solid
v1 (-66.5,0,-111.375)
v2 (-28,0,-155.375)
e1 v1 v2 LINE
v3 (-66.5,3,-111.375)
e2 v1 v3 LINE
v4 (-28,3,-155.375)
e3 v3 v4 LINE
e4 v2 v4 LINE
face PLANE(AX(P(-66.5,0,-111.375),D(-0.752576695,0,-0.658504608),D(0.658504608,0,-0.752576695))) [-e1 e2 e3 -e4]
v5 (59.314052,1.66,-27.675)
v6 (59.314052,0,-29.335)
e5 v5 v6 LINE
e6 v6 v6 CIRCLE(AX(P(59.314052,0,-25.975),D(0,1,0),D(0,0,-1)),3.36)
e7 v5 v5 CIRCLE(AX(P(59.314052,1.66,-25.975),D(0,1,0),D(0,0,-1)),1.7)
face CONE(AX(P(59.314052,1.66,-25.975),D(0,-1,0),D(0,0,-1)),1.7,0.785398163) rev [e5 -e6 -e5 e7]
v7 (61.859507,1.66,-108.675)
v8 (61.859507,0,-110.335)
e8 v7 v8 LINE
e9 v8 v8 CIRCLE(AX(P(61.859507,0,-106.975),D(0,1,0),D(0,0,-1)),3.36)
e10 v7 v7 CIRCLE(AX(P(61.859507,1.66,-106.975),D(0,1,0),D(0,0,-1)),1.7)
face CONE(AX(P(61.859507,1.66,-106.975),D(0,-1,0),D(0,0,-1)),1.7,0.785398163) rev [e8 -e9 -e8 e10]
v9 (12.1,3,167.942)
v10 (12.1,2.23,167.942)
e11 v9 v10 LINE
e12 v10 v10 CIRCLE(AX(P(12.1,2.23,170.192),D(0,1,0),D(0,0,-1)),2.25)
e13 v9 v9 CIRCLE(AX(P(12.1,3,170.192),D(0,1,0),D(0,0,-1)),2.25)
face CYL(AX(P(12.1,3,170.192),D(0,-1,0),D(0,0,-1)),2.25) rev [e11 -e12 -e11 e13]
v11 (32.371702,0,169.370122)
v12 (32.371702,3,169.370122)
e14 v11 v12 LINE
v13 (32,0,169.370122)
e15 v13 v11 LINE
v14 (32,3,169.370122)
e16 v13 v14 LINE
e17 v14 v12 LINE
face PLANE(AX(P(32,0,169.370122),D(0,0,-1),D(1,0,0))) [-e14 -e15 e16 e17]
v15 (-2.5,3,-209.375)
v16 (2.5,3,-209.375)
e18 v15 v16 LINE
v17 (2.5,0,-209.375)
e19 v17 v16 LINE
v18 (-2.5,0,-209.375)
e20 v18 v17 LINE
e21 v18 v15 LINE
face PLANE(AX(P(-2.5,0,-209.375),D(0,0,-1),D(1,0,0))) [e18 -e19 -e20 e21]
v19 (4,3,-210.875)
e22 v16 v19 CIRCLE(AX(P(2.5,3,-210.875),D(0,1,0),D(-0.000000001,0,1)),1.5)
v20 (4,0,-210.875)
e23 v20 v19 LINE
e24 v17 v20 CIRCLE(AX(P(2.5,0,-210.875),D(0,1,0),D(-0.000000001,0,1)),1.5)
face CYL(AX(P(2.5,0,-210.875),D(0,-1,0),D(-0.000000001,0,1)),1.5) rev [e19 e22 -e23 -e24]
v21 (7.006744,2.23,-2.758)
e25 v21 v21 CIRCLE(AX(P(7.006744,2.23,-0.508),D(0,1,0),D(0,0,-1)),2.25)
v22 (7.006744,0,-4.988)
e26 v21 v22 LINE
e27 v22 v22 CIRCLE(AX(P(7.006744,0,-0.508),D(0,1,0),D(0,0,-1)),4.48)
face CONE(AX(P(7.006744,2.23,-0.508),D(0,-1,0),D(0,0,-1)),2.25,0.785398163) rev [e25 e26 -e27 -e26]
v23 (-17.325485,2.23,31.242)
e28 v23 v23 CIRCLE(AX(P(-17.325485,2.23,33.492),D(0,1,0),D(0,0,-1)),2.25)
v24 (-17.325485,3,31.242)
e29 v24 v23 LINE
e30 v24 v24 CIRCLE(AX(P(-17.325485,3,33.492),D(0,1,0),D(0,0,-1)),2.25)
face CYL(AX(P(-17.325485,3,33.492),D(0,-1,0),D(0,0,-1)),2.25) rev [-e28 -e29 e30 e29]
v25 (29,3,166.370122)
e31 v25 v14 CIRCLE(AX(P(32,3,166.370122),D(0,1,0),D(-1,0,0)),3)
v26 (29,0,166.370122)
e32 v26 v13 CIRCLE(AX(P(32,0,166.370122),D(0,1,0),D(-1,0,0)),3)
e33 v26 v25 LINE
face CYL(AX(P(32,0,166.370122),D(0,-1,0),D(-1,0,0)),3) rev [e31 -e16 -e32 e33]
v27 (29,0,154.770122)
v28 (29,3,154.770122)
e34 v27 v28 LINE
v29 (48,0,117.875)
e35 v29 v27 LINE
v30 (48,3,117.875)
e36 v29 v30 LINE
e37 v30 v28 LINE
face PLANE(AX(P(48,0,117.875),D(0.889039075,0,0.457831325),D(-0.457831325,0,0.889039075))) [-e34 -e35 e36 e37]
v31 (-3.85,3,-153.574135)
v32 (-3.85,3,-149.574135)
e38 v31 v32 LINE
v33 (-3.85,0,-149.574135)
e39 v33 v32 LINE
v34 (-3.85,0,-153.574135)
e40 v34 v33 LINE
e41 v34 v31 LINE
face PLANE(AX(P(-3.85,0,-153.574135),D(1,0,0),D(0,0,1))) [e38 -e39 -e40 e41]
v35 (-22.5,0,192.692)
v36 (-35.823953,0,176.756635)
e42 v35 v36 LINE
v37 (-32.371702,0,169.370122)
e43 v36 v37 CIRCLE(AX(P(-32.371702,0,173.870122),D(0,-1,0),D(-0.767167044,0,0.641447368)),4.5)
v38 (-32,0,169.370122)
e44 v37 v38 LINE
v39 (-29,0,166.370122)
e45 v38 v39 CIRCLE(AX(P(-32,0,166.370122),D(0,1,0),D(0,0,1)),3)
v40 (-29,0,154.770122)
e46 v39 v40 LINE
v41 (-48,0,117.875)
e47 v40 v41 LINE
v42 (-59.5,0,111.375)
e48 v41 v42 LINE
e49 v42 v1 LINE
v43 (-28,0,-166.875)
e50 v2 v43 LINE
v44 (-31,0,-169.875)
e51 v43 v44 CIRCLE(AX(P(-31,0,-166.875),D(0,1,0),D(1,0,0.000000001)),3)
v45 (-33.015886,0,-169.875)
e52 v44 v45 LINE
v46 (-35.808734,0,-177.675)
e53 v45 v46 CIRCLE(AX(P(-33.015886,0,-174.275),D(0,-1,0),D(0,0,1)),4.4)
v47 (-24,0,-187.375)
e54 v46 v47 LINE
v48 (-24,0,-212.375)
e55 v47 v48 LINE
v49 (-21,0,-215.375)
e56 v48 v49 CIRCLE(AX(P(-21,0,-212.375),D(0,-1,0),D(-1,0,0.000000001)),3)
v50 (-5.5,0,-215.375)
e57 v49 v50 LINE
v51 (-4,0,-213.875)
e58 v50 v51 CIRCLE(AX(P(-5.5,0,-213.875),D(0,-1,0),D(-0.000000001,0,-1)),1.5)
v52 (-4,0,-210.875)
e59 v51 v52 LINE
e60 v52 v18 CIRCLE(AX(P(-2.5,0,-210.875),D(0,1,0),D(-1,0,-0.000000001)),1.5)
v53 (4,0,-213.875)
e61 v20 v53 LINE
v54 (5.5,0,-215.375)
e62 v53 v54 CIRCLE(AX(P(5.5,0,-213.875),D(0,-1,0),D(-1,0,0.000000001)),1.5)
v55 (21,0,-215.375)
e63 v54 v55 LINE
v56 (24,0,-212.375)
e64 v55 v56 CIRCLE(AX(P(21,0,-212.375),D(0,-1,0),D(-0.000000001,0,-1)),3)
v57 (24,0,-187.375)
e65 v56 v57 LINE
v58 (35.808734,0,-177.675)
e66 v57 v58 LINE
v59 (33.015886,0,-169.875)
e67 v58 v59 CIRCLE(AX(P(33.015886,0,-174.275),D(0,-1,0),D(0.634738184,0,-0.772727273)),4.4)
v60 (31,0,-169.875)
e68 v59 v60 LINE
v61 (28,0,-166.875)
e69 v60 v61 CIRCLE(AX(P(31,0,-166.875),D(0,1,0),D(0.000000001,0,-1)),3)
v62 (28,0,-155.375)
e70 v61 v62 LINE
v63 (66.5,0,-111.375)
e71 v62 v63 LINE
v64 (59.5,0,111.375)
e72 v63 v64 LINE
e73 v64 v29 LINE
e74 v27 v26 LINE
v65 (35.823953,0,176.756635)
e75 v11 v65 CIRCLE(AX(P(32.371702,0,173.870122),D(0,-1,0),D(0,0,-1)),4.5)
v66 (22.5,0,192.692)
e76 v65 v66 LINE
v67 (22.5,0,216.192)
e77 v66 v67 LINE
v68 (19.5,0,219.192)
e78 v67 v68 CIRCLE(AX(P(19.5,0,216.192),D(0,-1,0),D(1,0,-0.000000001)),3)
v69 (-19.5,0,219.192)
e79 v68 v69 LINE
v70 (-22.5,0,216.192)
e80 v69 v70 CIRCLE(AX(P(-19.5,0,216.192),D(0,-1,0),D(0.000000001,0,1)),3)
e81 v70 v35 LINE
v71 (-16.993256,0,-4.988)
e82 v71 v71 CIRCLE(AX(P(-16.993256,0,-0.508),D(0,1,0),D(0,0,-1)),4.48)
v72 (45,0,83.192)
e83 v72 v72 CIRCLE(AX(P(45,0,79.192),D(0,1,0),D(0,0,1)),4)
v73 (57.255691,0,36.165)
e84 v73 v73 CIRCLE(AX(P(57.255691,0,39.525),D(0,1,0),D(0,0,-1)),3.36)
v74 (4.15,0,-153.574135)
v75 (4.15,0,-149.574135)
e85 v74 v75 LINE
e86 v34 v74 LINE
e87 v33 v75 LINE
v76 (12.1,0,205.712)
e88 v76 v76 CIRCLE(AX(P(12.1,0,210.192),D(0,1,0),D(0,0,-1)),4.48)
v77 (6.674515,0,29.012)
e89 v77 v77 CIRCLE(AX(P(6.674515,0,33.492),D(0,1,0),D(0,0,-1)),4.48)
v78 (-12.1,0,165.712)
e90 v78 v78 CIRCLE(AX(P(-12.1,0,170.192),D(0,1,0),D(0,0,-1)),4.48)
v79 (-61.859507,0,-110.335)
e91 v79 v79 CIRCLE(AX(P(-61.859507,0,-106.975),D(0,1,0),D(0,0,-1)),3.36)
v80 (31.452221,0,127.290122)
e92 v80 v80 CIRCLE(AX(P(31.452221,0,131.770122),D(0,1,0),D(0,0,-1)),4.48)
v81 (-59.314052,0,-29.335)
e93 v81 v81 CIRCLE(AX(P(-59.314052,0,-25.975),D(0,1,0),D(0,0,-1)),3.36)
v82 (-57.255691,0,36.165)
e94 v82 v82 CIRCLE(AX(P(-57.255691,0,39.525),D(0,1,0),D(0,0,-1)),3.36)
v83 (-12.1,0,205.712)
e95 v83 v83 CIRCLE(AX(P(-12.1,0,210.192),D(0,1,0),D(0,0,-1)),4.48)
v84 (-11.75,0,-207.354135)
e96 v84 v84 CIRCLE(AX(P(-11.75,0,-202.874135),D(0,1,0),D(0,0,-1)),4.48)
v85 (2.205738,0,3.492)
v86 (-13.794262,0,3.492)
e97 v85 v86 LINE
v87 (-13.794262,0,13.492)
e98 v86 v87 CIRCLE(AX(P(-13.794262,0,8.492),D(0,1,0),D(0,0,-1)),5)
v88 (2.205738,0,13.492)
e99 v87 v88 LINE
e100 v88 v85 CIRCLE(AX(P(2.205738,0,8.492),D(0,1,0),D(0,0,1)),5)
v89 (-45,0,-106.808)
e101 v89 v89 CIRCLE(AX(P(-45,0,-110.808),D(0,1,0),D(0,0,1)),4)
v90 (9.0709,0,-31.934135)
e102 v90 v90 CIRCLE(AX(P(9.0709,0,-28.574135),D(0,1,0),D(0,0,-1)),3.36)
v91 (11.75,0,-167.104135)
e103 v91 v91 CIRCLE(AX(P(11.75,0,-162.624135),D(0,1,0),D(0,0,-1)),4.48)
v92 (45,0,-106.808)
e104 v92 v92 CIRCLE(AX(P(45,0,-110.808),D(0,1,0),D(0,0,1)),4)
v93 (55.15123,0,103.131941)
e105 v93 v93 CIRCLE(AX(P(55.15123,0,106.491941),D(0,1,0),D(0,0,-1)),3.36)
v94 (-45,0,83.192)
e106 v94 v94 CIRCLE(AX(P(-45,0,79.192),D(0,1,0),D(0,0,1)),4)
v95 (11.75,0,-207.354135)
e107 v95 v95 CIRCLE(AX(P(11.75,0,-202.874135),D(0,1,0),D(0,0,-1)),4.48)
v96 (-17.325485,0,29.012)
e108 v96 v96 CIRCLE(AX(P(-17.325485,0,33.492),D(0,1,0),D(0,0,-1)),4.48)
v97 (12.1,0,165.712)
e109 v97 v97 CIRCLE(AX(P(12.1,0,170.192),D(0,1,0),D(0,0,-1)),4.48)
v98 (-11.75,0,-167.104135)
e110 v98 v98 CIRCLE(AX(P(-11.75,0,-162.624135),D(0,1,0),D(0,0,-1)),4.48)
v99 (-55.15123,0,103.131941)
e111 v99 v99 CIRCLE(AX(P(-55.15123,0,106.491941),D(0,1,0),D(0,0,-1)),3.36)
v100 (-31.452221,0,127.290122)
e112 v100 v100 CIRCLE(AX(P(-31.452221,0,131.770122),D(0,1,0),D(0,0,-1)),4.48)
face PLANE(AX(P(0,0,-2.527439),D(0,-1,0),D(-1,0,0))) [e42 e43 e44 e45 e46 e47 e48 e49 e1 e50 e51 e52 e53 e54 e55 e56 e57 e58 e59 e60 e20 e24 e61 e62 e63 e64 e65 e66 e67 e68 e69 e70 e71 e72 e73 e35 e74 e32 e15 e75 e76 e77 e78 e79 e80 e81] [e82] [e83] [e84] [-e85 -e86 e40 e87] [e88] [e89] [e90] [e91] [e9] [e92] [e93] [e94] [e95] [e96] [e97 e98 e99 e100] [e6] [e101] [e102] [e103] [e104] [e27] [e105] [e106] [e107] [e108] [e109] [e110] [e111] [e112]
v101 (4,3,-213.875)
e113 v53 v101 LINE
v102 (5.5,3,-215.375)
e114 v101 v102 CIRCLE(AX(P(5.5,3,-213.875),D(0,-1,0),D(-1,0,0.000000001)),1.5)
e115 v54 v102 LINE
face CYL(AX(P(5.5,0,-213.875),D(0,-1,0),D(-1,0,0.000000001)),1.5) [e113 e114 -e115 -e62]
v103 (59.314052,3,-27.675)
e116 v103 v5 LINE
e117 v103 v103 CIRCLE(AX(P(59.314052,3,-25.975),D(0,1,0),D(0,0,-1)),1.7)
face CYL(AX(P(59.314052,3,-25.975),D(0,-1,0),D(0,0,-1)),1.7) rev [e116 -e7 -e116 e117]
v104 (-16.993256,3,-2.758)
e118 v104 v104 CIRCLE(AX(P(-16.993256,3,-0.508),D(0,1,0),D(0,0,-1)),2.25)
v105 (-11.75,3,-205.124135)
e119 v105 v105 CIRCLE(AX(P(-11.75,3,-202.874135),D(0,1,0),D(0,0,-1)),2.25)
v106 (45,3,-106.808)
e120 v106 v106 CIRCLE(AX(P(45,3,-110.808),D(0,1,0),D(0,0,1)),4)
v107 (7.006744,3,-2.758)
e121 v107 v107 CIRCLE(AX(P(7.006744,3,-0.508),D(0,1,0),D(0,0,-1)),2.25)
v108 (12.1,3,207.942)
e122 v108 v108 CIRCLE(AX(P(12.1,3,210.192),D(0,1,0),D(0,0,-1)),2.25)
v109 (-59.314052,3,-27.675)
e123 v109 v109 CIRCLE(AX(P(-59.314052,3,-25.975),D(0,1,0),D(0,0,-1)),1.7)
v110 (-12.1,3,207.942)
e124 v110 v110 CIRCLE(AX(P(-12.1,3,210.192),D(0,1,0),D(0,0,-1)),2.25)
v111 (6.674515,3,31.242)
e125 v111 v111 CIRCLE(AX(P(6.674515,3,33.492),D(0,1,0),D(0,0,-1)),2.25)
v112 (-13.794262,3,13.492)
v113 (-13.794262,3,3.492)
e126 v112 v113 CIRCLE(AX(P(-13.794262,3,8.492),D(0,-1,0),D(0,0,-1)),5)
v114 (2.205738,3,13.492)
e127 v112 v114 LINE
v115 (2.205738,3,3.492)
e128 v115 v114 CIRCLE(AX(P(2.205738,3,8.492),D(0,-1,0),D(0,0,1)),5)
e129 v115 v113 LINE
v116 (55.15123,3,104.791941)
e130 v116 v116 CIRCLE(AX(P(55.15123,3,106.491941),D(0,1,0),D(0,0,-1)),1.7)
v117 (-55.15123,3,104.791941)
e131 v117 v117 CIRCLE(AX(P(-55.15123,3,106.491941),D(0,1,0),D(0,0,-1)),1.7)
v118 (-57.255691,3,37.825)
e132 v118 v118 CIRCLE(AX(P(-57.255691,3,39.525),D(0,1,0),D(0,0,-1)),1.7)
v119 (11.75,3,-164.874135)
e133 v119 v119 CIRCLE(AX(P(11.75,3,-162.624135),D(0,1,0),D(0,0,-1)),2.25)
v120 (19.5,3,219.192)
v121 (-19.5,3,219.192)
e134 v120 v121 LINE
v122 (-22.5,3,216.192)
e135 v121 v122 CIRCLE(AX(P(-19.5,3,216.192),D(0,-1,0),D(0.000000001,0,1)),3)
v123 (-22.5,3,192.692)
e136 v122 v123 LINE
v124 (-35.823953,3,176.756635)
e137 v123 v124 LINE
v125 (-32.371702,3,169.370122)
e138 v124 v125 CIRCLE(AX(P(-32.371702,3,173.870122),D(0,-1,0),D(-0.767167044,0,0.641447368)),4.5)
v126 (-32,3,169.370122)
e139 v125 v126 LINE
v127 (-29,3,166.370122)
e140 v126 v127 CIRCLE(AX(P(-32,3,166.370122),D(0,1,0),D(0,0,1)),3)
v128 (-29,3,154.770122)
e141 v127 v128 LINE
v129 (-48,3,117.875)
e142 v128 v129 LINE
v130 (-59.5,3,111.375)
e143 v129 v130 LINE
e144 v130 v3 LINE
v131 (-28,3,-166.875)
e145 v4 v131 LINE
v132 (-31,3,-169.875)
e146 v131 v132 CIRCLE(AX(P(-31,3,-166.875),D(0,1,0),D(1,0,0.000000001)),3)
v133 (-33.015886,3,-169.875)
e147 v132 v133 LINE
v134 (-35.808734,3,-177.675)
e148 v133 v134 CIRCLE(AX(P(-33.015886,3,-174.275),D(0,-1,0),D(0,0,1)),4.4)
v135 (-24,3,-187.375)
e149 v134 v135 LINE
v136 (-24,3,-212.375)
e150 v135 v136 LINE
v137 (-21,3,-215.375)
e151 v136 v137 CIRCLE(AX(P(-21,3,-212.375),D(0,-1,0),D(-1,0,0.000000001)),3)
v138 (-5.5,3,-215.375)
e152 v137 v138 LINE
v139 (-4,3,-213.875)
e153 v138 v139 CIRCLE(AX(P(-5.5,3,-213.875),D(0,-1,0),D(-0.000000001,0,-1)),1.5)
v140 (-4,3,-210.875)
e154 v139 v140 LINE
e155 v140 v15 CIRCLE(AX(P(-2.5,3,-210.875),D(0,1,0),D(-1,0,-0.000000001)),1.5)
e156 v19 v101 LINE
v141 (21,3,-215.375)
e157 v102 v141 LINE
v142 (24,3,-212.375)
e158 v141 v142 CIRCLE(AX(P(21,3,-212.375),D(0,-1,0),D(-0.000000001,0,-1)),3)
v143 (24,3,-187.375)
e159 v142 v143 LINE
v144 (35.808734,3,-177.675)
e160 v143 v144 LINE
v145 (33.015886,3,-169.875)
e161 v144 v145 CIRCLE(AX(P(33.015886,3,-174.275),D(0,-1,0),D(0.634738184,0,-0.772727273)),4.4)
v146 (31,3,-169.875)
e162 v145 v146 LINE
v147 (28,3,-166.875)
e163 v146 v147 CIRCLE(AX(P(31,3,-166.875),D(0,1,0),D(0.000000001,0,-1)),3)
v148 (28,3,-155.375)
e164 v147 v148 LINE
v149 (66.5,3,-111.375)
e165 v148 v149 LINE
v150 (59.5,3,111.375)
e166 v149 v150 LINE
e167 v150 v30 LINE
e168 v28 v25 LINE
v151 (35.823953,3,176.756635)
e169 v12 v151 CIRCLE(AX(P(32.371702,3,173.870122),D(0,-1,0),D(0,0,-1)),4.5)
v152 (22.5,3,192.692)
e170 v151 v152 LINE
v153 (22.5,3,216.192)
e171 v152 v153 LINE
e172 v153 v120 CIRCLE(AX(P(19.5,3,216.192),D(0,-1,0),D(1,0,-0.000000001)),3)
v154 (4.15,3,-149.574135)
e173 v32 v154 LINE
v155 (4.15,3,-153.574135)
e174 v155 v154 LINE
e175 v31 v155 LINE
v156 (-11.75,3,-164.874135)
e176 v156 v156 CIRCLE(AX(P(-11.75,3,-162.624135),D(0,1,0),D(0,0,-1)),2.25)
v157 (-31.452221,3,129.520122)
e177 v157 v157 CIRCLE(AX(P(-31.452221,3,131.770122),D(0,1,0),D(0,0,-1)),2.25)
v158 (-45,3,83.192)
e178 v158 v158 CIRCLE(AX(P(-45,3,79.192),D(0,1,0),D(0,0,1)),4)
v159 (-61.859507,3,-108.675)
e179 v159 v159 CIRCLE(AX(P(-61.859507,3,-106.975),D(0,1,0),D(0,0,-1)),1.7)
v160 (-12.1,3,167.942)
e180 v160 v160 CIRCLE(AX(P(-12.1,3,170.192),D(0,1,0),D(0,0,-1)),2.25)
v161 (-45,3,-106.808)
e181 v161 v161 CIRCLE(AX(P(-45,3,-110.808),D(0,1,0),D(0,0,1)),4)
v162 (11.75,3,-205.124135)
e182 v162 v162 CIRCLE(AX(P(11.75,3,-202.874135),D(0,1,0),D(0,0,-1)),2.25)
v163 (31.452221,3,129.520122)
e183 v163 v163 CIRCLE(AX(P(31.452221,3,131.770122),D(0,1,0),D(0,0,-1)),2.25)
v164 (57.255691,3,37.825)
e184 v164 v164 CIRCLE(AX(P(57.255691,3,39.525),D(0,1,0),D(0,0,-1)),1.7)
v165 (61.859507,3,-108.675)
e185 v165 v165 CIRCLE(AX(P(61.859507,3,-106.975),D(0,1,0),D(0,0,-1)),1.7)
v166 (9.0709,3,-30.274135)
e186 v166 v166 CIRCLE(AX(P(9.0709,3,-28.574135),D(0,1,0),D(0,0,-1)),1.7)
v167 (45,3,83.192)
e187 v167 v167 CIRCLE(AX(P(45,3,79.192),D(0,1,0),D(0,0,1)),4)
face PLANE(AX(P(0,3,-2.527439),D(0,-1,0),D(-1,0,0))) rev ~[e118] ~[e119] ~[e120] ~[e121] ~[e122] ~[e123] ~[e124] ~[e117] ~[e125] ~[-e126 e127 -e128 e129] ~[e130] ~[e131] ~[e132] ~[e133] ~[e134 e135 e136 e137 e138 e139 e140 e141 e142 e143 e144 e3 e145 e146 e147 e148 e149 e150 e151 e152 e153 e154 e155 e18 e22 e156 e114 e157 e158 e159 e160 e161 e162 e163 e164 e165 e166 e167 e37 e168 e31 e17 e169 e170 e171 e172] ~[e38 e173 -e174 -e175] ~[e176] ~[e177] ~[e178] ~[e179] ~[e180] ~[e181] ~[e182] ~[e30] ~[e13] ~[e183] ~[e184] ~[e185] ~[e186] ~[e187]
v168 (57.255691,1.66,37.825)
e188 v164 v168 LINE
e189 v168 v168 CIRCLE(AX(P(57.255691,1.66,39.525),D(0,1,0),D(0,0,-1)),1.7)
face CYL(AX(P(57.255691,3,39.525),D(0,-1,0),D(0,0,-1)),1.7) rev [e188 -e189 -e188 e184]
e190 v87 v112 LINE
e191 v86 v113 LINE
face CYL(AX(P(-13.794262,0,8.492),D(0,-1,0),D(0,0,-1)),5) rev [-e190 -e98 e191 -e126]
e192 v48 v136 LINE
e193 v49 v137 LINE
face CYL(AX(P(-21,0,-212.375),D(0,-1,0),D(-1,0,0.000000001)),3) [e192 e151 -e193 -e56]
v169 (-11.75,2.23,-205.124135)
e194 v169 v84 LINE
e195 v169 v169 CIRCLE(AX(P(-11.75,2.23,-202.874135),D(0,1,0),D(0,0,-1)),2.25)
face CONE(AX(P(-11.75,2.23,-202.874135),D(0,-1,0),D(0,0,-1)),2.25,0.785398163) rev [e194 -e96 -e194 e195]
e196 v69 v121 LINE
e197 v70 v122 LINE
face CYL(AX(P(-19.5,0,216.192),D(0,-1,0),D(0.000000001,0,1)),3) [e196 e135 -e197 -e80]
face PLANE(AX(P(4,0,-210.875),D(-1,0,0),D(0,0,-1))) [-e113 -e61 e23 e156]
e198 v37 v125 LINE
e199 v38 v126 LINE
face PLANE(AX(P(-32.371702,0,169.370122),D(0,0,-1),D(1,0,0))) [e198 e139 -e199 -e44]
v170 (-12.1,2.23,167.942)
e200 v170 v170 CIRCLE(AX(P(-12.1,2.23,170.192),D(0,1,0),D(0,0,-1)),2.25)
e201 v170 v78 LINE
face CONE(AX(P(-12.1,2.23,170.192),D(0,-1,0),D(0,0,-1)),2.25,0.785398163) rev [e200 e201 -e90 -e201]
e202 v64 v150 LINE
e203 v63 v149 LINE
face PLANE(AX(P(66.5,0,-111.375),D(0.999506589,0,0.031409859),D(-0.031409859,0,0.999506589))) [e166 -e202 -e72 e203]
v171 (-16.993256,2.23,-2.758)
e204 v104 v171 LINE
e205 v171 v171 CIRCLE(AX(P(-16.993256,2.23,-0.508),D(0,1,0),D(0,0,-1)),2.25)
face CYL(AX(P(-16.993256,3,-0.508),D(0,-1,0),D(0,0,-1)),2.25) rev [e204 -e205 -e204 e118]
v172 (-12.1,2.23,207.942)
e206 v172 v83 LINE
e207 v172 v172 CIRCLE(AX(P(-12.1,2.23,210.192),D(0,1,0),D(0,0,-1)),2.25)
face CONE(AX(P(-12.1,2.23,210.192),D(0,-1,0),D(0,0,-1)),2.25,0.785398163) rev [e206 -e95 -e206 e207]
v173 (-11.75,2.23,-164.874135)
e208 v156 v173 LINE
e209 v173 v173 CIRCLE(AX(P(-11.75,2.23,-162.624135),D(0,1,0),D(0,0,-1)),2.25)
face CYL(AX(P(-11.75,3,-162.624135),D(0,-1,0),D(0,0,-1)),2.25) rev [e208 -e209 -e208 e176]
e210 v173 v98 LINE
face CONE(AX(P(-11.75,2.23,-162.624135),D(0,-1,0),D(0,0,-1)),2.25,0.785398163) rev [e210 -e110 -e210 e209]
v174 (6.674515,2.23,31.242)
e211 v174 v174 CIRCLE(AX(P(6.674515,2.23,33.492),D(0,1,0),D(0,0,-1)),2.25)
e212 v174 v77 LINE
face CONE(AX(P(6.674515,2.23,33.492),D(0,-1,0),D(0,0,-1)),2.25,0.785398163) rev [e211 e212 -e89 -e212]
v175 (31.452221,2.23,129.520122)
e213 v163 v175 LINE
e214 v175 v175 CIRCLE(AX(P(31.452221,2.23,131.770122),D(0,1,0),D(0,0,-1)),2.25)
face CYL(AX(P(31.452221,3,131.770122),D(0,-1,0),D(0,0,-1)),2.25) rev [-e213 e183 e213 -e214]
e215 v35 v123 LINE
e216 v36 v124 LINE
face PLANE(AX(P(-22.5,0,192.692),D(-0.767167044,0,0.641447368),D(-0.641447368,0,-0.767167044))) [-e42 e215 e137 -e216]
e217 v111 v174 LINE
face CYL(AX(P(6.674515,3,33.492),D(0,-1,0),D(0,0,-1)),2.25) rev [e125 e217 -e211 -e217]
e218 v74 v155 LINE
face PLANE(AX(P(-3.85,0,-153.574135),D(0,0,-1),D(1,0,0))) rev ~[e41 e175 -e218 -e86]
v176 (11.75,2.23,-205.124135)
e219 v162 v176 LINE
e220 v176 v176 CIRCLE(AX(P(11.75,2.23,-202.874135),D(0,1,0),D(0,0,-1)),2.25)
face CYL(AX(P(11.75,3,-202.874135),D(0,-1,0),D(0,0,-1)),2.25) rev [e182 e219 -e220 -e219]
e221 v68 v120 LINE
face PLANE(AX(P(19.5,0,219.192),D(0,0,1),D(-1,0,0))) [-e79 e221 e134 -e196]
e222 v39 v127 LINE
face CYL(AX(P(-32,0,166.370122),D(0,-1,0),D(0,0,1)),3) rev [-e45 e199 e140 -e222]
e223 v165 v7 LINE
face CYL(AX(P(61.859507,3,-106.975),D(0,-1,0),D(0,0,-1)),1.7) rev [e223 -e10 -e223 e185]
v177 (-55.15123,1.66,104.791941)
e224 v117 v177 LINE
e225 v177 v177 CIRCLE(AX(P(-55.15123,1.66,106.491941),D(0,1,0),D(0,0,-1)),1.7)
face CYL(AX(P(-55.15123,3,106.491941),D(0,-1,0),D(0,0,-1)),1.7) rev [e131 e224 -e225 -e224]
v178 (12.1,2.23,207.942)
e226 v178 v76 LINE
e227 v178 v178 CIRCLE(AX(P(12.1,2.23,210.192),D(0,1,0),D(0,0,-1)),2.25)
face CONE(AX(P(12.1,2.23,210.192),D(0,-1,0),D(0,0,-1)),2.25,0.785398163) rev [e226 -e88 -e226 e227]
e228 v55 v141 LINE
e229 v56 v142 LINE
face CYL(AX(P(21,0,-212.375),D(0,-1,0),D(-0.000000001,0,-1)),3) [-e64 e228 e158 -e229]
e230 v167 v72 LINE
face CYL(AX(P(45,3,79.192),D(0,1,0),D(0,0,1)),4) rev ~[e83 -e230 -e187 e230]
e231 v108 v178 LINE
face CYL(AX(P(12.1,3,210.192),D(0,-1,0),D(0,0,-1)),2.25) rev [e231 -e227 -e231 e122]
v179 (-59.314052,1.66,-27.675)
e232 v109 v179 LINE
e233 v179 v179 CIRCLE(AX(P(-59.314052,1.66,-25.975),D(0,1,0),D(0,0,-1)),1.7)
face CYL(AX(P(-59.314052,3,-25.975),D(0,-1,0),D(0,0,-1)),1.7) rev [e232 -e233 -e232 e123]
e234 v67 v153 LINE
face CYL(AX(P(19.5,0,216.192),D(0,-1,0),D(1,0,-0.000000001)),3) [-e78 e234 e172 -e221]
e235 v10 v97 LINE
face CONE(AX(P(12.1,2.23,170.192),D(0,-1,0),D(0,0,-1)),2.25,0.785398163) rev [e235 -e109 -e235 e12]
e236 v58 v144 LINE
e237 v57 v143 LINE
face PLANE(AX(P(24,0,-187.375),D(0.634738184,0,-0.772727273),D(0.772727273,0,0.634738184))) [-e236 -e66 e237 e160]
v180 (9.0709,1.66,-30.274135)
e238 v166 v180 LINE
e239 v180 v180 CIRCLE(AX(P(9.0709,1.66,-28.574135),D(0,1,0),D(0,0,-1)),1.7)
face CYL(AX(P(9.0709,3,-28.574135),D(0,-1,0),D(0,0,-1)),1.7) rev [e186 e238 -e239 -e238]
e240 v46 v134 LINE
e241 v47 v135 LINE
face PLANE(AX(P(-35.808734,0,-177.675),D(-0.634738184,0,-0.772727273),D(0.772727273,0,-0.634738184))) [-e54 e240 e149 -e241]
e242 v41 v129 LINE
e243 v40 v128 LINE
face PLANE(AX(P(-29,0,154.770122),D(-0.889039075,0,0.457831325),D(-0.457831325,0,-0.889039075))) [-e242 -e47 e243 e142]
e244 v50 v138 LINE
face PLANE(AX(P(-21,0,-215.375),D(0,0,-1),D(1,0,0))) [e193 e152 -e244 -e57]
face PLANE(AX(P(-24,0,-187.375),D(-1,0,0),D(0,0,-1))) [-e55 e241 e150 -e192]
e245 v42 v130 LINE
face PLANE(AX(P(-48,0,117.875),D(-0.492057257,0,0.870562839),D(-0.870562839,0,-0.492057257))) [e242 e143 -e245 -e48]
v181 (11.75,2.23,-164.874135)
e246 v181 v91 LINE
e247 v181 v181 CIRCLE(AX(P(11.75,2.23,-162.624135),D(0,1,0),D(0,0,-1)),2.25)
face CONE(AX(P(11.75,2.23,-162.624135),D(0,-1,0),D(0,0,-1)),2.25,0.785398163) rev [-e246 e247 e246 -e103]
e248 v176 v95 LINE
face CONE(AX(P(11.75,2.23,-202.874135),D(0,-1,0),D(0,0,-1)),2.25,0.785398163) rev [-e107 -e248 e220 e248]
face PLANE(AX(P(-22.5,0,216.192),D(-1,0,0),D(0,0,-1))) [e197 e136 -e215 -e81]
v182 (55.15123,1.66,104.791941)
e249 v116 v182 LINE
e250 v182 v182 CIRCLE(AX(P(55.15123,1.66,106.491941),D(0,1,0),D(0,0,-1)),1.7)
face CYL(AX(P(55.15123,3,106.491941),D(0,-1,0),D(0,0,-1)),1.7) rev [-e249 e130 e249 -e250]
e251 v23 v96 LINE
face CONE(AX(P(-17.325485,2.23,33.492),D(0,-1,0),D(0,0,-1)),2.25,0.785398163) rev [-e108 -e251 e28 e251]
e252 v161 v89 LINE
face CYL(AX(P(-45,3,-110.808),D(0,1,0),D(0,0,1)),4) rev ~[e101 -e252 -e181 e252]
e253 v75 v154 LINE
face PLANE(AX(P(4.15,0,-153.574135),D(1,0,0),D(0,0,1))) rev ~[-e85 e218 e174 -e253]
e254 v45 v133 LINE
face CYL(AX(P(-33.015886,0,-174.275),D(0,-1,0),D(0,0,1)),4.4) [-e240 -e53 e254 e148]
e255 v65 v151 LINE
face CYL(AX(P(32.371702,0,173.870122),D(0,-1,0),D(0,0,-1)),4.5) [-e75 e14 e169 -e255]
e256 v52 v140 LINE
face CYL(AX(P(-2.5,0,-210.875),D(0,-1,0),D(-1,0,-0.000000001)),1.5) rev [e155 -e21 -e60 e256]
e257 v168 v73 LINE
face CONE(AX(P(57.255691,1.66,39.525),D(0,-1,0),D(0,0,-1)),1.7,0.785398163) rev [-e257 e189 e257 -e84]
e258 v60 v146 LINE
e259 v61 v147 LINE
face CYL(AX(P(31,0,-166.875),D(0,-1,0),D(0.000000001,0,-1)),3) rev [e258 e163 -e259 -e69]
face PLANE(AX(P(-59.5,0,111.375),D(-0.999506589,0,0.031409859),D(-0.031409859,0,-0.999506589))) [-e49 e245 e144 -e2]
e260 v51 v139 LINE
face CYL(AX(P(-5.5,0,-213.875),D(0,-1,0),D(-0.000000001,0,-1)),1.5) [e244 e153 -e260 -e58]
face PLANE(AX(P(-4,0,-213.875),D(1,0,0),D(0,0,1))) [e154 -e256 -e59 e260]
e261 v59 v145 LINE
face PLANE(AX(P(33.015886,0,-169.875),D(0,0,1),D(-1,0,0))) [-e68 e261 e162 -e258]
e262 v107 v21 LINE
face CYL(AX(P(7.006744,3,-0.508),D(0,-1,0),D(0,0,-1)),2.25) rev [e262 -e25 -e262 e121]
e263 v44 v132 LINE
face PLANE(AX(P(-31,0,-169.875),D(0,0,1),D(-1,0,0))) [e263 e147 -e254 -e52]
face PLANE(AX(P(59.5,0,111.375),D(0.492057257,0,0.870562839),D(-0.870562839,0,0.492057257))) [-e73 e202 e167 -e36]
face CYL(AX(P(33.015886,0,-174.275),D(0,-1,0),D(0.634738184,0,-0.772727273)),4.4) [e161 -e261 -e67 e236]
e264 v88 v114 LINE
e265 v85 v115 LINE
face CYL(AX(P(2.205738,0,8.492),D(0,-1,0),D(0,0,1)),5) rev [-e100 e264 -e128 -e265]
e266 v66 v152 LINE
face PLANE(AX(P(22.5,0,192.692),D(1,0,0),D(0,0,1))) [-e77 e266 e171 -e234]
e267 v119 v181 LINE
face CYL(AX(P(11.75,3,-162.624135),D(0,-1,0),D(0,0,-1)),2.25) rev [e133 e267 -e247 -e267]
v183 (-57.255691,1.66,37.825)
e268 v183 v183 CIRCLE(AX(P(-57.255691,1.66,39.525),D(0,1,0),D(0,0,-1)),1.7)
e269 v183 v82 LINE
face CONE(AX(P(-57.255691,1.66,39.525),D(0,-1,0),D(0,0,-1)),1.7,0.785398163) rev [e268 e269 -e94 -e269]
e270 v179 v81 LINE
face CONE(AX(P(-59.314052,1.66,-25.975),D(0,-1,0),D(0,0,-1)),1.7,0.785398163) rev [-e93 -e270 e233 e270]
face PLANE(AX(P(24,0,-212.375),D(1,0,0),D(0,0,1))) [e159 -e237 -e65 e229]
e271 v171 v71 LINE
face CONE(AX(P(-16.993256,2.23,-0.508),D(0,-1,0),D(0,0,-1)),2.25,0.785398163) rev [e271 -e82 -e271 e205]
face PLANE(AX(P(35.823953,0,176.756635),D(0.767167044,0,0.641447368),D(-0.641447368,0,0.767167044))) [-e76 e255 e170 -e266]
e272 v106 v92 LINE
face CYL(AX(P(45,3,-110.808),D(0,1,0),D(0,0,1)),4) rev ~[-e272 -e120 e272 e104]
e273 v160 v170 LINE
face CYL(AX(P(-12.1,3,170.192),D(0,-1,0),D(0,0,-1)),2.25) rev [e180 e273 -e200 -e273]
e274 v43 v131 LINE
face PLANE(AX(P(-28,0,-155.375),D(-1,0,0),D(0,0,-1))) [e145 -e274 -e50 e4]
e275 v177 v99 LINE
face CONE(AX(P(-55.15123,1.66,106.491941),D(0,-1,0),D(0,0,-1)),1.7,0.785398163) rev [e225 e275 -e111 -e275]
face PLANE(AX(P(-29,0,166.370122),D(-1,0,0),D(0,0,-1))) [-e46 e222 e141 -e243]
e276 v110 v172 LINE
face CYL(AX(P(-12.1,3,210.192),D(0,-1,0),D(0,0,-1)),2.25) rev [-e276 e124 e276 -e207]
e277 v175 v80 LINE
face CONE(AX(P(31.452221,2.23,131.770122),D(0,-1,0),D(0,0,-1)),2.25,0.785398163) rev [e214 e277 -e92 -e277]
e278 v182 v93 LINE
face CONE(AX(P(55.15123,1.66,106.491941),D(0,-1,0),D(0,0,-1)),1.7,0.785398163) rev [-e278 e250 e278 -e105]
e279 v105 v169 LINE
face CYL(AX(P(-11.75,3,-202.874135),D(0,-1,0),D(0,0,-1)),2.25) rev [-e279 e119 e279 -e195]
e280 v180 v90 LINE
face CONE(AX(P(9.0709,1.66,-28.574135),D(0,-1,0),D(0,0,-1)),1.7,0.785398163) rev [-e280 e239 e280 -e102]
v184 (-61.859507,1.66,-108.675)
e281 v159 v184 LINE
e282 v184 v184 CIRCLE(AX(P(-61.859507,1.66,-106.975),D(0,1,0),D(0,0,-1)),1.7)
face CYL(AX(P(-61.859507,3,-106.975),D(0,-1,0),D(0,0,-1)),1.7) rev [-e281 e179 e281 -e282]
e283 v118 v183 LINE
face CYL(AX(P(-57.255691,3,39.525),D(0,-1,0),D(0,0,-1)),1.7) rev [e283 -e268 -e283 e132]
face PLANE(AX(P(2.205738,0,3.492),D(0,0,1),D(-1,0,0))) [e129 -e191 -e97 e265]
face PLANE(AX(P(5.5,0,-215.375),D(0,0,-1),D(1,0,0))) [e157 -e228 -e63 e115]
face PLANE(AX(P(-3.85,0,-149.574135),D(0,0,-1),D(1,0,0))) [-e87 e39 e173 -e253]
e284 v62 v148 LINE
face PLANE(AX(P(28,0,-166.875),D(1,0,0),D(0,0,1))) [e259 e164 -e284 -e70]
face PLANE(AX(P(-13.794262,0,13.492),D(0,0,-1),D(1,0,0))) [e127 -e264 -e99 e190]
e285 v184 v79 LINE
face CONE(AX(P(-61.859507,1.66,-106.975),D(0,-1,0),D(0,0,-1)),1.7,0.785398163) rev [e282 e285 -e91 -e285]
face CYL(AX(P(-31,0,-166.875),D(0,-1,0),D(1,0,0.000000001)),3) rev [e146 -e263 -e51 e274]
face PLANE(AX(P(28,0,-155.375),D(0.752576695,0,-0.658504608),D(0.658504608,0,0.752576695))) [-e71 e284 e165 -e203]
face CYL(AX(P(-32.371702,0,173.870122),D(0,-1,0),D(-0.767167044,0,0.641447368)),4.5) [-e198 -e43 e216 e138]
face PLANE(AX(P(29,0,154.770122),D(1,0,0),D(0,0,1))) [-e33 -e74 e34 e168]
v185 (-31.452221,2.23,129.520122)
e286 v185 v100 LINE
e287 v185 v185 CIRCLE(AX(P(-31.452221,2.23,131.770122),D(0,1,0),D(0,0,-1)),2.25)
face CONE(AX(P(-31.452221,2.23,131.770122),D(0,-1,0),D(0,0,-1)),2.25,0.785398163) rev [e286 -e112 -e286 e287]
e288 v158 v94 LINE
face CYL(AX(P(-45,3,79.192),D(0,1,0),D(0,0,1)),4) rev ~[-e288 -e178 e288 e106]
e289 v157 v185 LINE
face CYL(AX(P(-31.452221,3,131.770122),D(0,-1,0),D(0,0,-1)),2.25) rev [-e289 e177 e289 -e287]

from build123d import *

# Parameters (mm, degrees)
RESSALTO_EXTRUS_O1_DEPTH             = 3
ESBO_O2_R                            = 4
CORTE_EXTRUS_O1_DEPTH                = 10
ESCAREADO_PARA_SFHCS_M31_AT_2_COUNT  = 2
ESCAREADO_PARA_SFHCS_M31_AT_2_PITCH  = 110.302460898
ESCAREADO_PARA_SFHCS_M31_AT_3_COUNT  = 2
ESCAREADO_PARA_SFHCS_M31_AT_3_PITCH  = 130.842986965
ESCAREADO_PARA_SFHCS_M31_AT_4_COUNT  = 2
ESCAREADO_PARA_SFHCS_M31_AT_4_PITCH  = 67
ESCAREADO_PARA_SFHCS_M31_AT_5_COUNT  = 2
ESCAREADO_PARA_SFHCS_M31_AT_5_PITCH  = 132.532334398
ESCAREADO_PARA_SFHCS_M31_AT_6_COUNT  = 2
ESCAREADO_PARA_SFHCS_M31_AT_6_PITCH  = 175.070818678
ESCAREADO_PARA_SFHCS_M31_AT_7_COUNT  = 2
ESCAREADO_PARA_SFHCS_M31_AT_7_PITCH  = 213.572320447
ESCAREADO_PARA_SFHCS_M31_AT_8_COUNT  = 2
ESCAREADO_PARA_SFHCS_M31_AT_8_PITCH  = 243.433045731
ESCAREADO_PARA_SFHCS_M31_AT_9_COUNT  = 2
ESCAREADO_PARA_SFHCS_M31_AT_9_PITCH  = 142.710342559
ESCAREADO_PARA_SFHCS_M41_AT_2_COUNT  = 2
ESCAREADO_PARA_SFHCS_M41_AT_2_PITCH  = 40
ESCAREADO_PARA_SFHCS_M41_AT_3_COUNT  = 2
ESCAREADO_PARA_SFHCS_M41_AT_3_PITCH  = 46.75082887
ESCAREADO_PARA_SFHCS_M41_AT_4_COUNT  = 2
ESCAREADO_PARA_SFHCS_M41_AT_4_PITCH  = 24.2
ESCAREADO_PARA_SFHCS_M41_AT_5_COUNT  = 2
ESCAREADO_PARA_SFHCS_M41_AT_5_PITCH  = 58.077850276
ESCAREADO_PARA_SFHCS_M41_AT_6_COUNT  = 2
ESCAREADO_PARA_SFHCS_M41_AT_6_PITCH  = 43.020334562
ESCAREADO_PARA_SFHCS_M41_AT_7_COUNT  = 2
ESCAREADO_PARA_SFHCS_M41_AT_7_PITCH  = 136.807623633
ESCAREADO_PARA_SFHCS_M41_AT_8_COUNT  = 2
ESCAREADO_PARA_SFHCS_M41_AT_8_PITCH  = 139.831145131
ESCAREADO_PARA_SFHCS_M41_AT_9_COUNT  = 2
ESCAREADO_PARA_SFHCS_M41_AT_9_PITCH  = 173.161507104
ESCAREADO_PARA_SFHCS_M41_AT_10_COUNT = 2
ESCAREADO_PARA_SFHCS_M41_AT_10_PITCH = 170.775968029
ESCAREADO_PARA_SFHCS_M41_AT_11_COUNT = 2
ESCAREADO_PARA_SFHCS_M41_AT_11_PITCH = 332.816318971
ESCAREADO_PARA_SFHCS_M41_AT_12_COUNT = 2
ESCAREADO_PARA_SFHCS_M41_AT_12_PITCH = 333.669600313
ESCAREADO_PARA_SFHCS_M41_AT_13_COUNT = 2
ESCAREADO_PARA_SFHCS_M41_AT_13_PITCH = 373.827719057
ESCAREADO_PARA_SFHCS_M41_AT_14_COUNT = 2
ESCAREADO_PARA_SFHCS_M41_AT_14_PITCH = 373.066299115
ESBO_O9_W                            = 8
ESBO_O9_H                            = 4
CORTE_EXTRUS_O2_DEPTH                = 230.077241914


with BuildPart() as part:
    # Esboço1 → Ressalto-extrusão1 (new body)
    with BuildSketch(Plane(origin=(0, 0, 0), x_dir=(1, 0, 0), z_dir=(0, 1, 0))):
        with BuildLine():
            Line((-2.5, 209.375), (2.5, 209.375))
            ThreePointArc((2.5, 209.375), (3.560660172, 209.814339828), (4, 210.875))
            Line((4, 210.875), (4, 213.875))
            ThreePointArc((4, 213.875), (4.439339828, 214.935660172), (5.5, 215.375))
            Line((5.5, 215.375), (21, 215.375))
            ThreePointArc((21, 215.375), (23.121320344, 214.496320344), (24, 212.375))
            Line((24, 212.375), (24, 187.375))
            Line((24, 187.375), (35.808734273, 177.675))
            ThreePointArc((35.808734273, 177.675), (37.1583493, 172.791760303), (33.015886264, 169.875))
            Line((33.015886264, 169.875), (31, 169.875))
            ThreePointArc((31, 169.875), (28.878679656, 168.996320344), (28, 166.875))
            Line((28, 166.875), (28, 155.375))
            Line((28, 155.375), (66.5, 111.375))
            Line((66.5, 111.375), (59.5, -111.375))
            Line((59.5, -111.375), (48, -117.875))
            Line((48, -117.875), (29, -154.770121629))
            Line((29, -154.770121629), (29, -166.370121629))
            ThreePointArc((29, -166.370121629), (29.878679656, -168.491441972), (32, -169.370121629))
            Line((32, -169.370121629), (32.371701685, -169.370121629))
            ThreePointArc((32.371701685, -169.370121629), (36.448422746, -171.9647751), (35.823953384, -176.756634787))
            Line((35.823953384, -176.756634787), (22.5, -192.691999769))
            Line((22.5, -192.691999769), (22.5, -216.191999769))
            ThreePointArc((22.5, -216.191999769), (21.621320344, -218.313320113), (19.5, -219.191999769))
            Line((19.5, -219.191999769), (-19.5, -219.191999769))
            ThreePointArc((-19.5, -219.191999769), (-21.621320344, -218.313320113), (-22.5, -216.191999769))
            Line((-22.5, -216.191999769), (-22.5, -192.691999769))
            Line((-22.5, -192.691999769), (-35.823953384, -176.756634787))
            ThreePointArc((-35.823953384, -176.756634787), (-36.448422746, -171.9647751), (-32.371701685, -169.370121629))
            Line((-32.371701685, -169.370121629), (-32, -169.370121629))
            ThreePointArc((-32, -169.370121629), (-29.878679656, -168.491441972), (-29, -166.370121629))
            Line((-29, -166.370121629), (-29, -154.770121629))
            Line((-29, -154.770121629), (-48, -117.875))
            Line((-48, -117.875), (-59.5, -111.375))
            Line((-59.5, -111.375), (-66.5, 111.375))
            Line((-66.5, 111.375), (-28, 155.375))
            Line((-28, 155.375), (-28, 166.875))
            ThreePointArc((-28, 166.875), (-28.878679656, 168.996320344), (-31, 169.875))
            Line((-31, 169.875), (-33.015886264, 169.875))
            ThreePointArc((-33.015886264, 169.875), (-37.1583493, 172.791760303), (-35.808734273, 177.675))
            Line((-35.808734273, 177.675), (-24, 187.375))
            Line((-24, 187.375), (-24, 212.375))
            ThreePointArc((-24, 212.375), (-23.121320344, 214.496320344), (-21, 215.375))
            Line((-21, 215.375), (-5.5, 215.375))
            ThreePointArc((-5.5, 215.375), (-4.439339828, 214.935660172), (-4, 213.875))
            Line((-4, 213.875), (-4, 210.875))
            ThreePointArc((-4, 210.875), (-3.560660172, 209.814339828), (-2.5, 209.375))
        make_face()
    extrude(amount=RESSALTO_EXTRUS_O1_DEPTH)

    # Esboço2 → Corte-extrusão1 (cut)
    with BuildSketch(Plane(origin=(0, 3, 0), x_dir=(1, 0, 0), z_dir=(0, 1, 0))):
        with Locations(Location((-45, -79.191999769, 0), (0, 0, 270))):
            Circle(ESBO_O2_R)
        with Locations(Location((45, -79.191999769, 0), (0, 0, 270))):
            Circle(ESBO_O2_R)
        with Locations(Location((45, 110.808000231, 0), (0, 0, 270))):
            Circle(ESBO_O2_R)
        with Locations(Location((-45, 110.808000231, 0), (0, 0, 270))):
            Circle(ESBO_O2_R)
    extrude(amount=-CORTE_EXTRUS_O1_DEPTH, mode=Mode.SUBTRACT)

    # Esboço6 → Escareado para SFHCS M31 (revolve, cut)
    with BuildSketch(Plane(origin=(55.151230449, 0, 106.491941439), x_dir=(0, 0, -1), z_dir=(1, 0, 0))):
        Polygon((0, 0), (0, 3), (1.7, 3), (1.7, 1.66), (3.36, 0), align=None)
    escareado_para_sfhcs_m31 = revolve(axis=Axis((55.151230449, -6.35, 106.491941439), (0, 1, 0)), mode=Mode.SUBTRACT)

    # Escareado para SFHCS M31 at 2: Escareado para SFHCS M31 ×2
    with Locations(*[(-i * ESCAREADO_PARA_SFHCS_M31_AT_2_PITCH, 0, 0) for i in range(1, ESCAREADO_PARA_SFHCS_M31_AT_2_COUNT)]):
        add(escareado_para_sfhcs_m31, mode=Mode.SUBTRACT)

    # Escareado para SFHCS M31 at 3: Escareado para SFHCS M31 ×2
    with Locations(*[Vector(-0.8590977939862314, 0, -0.5118114695549434) * (i * ESCAREADO_PARA_SFHCS_M31_AT_3_PITCH) for i in range(1, ESCAREADO_PARA_SFHCS_M31_AT_3_COUNT)]):
        add(escareado_para_sfhcs_m31, mode=Mode.SUBTRACT)

    # Escareado para SFHCS M31 at 4: Escareado para SFHCS M31 ×2
    with Locations(*[Vector(0.031409859126967435, 0, -0.9995065886474306) * (i * ESCAREADO_PARA_SFHCS_M31_AT_4_PITCH) for i in range(1, ESCAREADO_PARA_SFHCS_M31_AT_4_COUNT)]):
        add(escareado_para_sfhcs_m31, mode=Mode.SUBTRACT)

    # Escareado para SFHCS M31 at 5: Escareado para SFHCS M31 ×2
    with Locations(*[Vector(0.03140985912696758, 0, -0.9995065886474307) * (i * ESCAREADO_PARA_SFHCS_M31_AT_5_PITCH) for i in range(1, ESCAREADO_PARA_SFHCS_M31_AT_5_COUNT)]):
        add(escareado_para_sfhcs_m31, mode=Mode.SUBTRACT)

    # Escareado para SFHCS M31 at 6: Escareado para SFHCS M31 ×2
    with Locations(*[Vector(-0.6538227427961019, 0, -0.7566477522616337) * (i * ESCAREADO_PARA_SFHCS_M31_AT_6_PITCH) for i in range(1, ESCAREADO_PARA_SFHCS_M31_AT_6_COUNT)]):
        add(escareado_para_sfhcs_m31, mode=Mode.SUBTRACT)

    # Escareado para SFHCS M31 at 7: Escareado para SFHCS M31 ×2
    with Locations(*[Vector(0.03140985912696757, 0, -0.9995065886474307) * (i * ESCAREADO_PARA_SFHCS_M31_AT_7_PITCH) for i in range(1, ESCAREADO_PARA_SFHCS_M31_AT_7_COUNT)]):
        add(escareado_para_sfhcs_m31, mode=Mode.SUBTRACT)

    # Escareado para SFHCS M31 at 8: Escareado para SFHCS M31 ×2
    with Locations(*[Vector(-0.4806690769772822, 0, -0.8769020688981225) * (i * ESCAREADO_PARA_SFHCS_M31_AT_8_PITCH) for i in range(1, ESCAREADO_PARA_SFHCS_M31_AT_8_COUNT)]):
        add(escareado_para_sfhcs_m31, mode=Mode.SUBTRACT)

    # Escareado para SFHCS M31 at 9: Escareado para SFHCS M31 ×2
    with Locations(*[Vector(-0.3228941175011494, 0, -0.9464350949130923) * (i * ESCAREADO_PARA_SFHCS_M31_AT_9_PITCH) for i in range(1, ESCAREADO_PARA_SFHCS_M31_AT_9_COUNT)]):
        add(escareado_para_sfhcs_m31, mode=Mode.SUBTRACT)

    # Esboço8 → Escareado para SFHCS M41 (revolve, cut)
    with BuildSketch(Plane(origin=(12.1, 0, 170.191999769), x_dir=(0, 0, -1), z_dir=(1, 0, 0))):
        Polygon((0, 0), (0, 3), (2.25, 3), (2.25, 2.23), (4.48, 0), align=None)
    escareado_para_sfhcs_m41 = revolve(axis=Axis((12.1, -6.35, 170.191999769), (0, 1, 0)), mode=Mode.SUBTRACT)

    # Escareado para SFHCS M41 at 2: Escareado para SFHCS M41 ×2
    with Locations(*[(0, 0, i * ESCAREADO_PARA_SFHCS_M41_AT_2_PITCH) for i in range(1, ESCAREADO_PARA_SFHCS_M41_AT_2_COUNT)]):
        add(escareado_para_sfhcs_m41, mode=Mode.SUBTRACT)

    # Escareado para SFHCS M41 at 3: Escareado para SFHCS M41 ×2
    with Locations(*[Vector(-0.5176378811907321, 0, 0.8555998036210444) * (i * ESCAREADO_PARA_SFHCS_M41_AT_3_PITCH) for i in range(1, ESCAREADO_PARA_SFHCS_M41_AT_3_COUNT)]):
        add(escareado_para_sfhcs_m41, mode=Mode.SUBTRACT)

    # Escareado para SFHCS M41 at 4: Escareado para SFHCS M41 ×2
    with Locations(*[(-i * ESCAREADO_PARA_SFHCS_M41_AT_4_PITCH, 0, 0) for i in range(1, ESCAREADO_PARA_SFHCS_M41_AT_4_COUNT)]):
        add(escareado_para_sfhcs_m41, mode=Mode.SUBTRACT)

    # Escareado para SFHCS M41 at 5: Escareado para SFHCS M41 ×2
    with Locations(*[Vector(-0.7498938236983096, 0, -0.6615582009008192) * (i * ESCAREADO_PARA_SFHCS_M41_AT_5_PITCH) for i in range(1, ESCAREADO_PARA_SFHCS_M41_AT_5_COUNT)]):
        add(escareado_para_sfhcs_m41, mode=Mode.SUBTRACT)

    # Escareado para SFHCS M41 at 6: Escareado para SFHCS M41 ×2
    with Locations(*[Vector(0.44983892878661463, 0, -0.8931097010715487) * (i * ESCAREADO_PARA_SFHCS_M41_AT_6_PITCH) for i in range(1, ESCAREADO_PARA_SFHCS_M41_AT_6_COUNT)]):
        add(escareado_para_sfhcs_m41, mode=Mode.SUBTRACT)

    # Escareado para SFHCS M41 at 7: Escareado para SFHCS M41 ×2
    with Locations(*[Vector(-0.039657765677978324, 0, -0.999213321379089) * (i * ESCAREADO_PARA_SFHCS_M41_AT_7_PITCH) for i in range(1, ESCAREADO_PARA_SFHCS_M41_AT_7_COUNT)]):
        add(escareado_para_sfhcs_m41, mode=Mode.SUBTRACT)

    # Escareado para SFHCS M41 at 8: Escareado para SFHCS M41 ×2
    with Locations(*[Vector(-0.21043584140980087, 0, -0.9776076701060344) * (i * ESCAREADO_PARA_SFHCS_M41_AT_8_PITCH) for i in range(1, ESCAREADO_PARA_SFHCS_M41_AT_8_COUNT)]):
        add(escareado_para_sfhcs_m41, mode=Mode.SUBTRACT)

    # Escareado para SFHCS M41 at 9: Escareado para SFHCS M41 ×2
    with Locations(*[Vector(-0.16801225891576932, 0, -0.9857849059779829) * (i * ESCAREADO_PARA_SFHCS_M41_AT_9_PITCH) for i in range(1, ESCAREADO_PARA_SFHCS_M41_AT_9_COUNT)]):
        add(escareado_para_sfhcs_m41, mode=Mode.SUBTRACT)

    # Escareado para SFHCS M41 at 10: Escareado para SFHCS M41 ×2
    with Locations(*[Vector(-0.0298241961363705, 0, -0.9995551597209728) * (i * ESCAREADO_PARA_SFHCS_M41_AT_10_PITCH) for i in range(1, ESCAREADO_PARA_SFHCS_M41_AT_10_COUNT)]):
        add(escareado_para_sfhcs_m41, mode=Mode.SUBTRACT)

    # Escareado para SFHCS M41 at 11: Escareado para SFHCS M41 ×2
    with Locations(*[Vector(-0.0010516311251878737, 0, -0.9999994470358354) * (i * ESCAREADO_PARA_SFHCS_M41_AT_11_PITCH) for i in range(1, ESCAREADO_PARA_SFHCS_M41_AT_11_COUNT)]):
        add(escareado_para_sfhcs_m41, mode=Mode.SUBTRACT)

    # Escareado para SFHCS M41 at 12: Escareado para SFHCS M41 ×2
    with Locations(*[Vector(-0.0714778930343451, 0, -0.9974421841928337) * (i * ESCAREADO_PARA_SFHCS_M41_AT_12_PITCH) for i in range(1, ESCAREADO_PARA_SFHCS_M41_AT_12_COUNT)]):
        add(escareado_para_sfhcs_m41, mode=Mode.SUBTRACT)

    # Escareado para SFHCS M41 at 13: Escareado para SFHCS M41 ×2
    with Locations(*[Vector(-0.06379944232106374, 0, -0.9979627403663532) * (i * ESCAREADO_PARA_SFHCS_M41_AT_13_PITCH) for i in range(1, ESCAREADO_PARA_SFHCS_M41_AT_13_COUNT)]):
        add(escareado_para_sfhcs_m41, mode=Mode.SUBTRACT)

    # Escareado para SFHCS M41 at 14: Escareado para SFHCS M41 ×2
    with Locations(*[Vector(-0.0009381710458172143, 0, -0.9999995599174476) * (i * ESCAREADO_PARA_SFHCS_M41_AT_14_PITCH) for i in range(1, ESCAREADO_PARA_SFHCS_M41_AT_14_COUNT)]):
        add(escareado_para_sfhcs_m41, mode=Mode.SUBTRACT)

    # Esboço9 → Corte-extrusão2 (cut, through all)
    with BuildSketch(Plane.XZ):
        with BuildLine():
            Line((-13.794262039, 13.491999769), (2.205737961, 13.491999769))
            ThreePointArc((2.205737961, 13.491999769), (7.205737961, 8.491999769), (2.205737961, 3.491999769))
            Line((2.205737961, 3.491999769), (-13.794262039, 3.491999769))
            ThreePointArc((-13.794262039, 3.491999769), (-18.794262039, 8.491999769), (-13.794262039, 13.491999769))
        make_face()
        with Locations((0.15, -151.574135166)):
            Rectangle(ESBO_O9_W, ESBO_O9_H)
    extrude(amount=-CORTE_EXTRUS_O2_DEPTH, mode=Mode.SUBTRACT)


solid = part.part
